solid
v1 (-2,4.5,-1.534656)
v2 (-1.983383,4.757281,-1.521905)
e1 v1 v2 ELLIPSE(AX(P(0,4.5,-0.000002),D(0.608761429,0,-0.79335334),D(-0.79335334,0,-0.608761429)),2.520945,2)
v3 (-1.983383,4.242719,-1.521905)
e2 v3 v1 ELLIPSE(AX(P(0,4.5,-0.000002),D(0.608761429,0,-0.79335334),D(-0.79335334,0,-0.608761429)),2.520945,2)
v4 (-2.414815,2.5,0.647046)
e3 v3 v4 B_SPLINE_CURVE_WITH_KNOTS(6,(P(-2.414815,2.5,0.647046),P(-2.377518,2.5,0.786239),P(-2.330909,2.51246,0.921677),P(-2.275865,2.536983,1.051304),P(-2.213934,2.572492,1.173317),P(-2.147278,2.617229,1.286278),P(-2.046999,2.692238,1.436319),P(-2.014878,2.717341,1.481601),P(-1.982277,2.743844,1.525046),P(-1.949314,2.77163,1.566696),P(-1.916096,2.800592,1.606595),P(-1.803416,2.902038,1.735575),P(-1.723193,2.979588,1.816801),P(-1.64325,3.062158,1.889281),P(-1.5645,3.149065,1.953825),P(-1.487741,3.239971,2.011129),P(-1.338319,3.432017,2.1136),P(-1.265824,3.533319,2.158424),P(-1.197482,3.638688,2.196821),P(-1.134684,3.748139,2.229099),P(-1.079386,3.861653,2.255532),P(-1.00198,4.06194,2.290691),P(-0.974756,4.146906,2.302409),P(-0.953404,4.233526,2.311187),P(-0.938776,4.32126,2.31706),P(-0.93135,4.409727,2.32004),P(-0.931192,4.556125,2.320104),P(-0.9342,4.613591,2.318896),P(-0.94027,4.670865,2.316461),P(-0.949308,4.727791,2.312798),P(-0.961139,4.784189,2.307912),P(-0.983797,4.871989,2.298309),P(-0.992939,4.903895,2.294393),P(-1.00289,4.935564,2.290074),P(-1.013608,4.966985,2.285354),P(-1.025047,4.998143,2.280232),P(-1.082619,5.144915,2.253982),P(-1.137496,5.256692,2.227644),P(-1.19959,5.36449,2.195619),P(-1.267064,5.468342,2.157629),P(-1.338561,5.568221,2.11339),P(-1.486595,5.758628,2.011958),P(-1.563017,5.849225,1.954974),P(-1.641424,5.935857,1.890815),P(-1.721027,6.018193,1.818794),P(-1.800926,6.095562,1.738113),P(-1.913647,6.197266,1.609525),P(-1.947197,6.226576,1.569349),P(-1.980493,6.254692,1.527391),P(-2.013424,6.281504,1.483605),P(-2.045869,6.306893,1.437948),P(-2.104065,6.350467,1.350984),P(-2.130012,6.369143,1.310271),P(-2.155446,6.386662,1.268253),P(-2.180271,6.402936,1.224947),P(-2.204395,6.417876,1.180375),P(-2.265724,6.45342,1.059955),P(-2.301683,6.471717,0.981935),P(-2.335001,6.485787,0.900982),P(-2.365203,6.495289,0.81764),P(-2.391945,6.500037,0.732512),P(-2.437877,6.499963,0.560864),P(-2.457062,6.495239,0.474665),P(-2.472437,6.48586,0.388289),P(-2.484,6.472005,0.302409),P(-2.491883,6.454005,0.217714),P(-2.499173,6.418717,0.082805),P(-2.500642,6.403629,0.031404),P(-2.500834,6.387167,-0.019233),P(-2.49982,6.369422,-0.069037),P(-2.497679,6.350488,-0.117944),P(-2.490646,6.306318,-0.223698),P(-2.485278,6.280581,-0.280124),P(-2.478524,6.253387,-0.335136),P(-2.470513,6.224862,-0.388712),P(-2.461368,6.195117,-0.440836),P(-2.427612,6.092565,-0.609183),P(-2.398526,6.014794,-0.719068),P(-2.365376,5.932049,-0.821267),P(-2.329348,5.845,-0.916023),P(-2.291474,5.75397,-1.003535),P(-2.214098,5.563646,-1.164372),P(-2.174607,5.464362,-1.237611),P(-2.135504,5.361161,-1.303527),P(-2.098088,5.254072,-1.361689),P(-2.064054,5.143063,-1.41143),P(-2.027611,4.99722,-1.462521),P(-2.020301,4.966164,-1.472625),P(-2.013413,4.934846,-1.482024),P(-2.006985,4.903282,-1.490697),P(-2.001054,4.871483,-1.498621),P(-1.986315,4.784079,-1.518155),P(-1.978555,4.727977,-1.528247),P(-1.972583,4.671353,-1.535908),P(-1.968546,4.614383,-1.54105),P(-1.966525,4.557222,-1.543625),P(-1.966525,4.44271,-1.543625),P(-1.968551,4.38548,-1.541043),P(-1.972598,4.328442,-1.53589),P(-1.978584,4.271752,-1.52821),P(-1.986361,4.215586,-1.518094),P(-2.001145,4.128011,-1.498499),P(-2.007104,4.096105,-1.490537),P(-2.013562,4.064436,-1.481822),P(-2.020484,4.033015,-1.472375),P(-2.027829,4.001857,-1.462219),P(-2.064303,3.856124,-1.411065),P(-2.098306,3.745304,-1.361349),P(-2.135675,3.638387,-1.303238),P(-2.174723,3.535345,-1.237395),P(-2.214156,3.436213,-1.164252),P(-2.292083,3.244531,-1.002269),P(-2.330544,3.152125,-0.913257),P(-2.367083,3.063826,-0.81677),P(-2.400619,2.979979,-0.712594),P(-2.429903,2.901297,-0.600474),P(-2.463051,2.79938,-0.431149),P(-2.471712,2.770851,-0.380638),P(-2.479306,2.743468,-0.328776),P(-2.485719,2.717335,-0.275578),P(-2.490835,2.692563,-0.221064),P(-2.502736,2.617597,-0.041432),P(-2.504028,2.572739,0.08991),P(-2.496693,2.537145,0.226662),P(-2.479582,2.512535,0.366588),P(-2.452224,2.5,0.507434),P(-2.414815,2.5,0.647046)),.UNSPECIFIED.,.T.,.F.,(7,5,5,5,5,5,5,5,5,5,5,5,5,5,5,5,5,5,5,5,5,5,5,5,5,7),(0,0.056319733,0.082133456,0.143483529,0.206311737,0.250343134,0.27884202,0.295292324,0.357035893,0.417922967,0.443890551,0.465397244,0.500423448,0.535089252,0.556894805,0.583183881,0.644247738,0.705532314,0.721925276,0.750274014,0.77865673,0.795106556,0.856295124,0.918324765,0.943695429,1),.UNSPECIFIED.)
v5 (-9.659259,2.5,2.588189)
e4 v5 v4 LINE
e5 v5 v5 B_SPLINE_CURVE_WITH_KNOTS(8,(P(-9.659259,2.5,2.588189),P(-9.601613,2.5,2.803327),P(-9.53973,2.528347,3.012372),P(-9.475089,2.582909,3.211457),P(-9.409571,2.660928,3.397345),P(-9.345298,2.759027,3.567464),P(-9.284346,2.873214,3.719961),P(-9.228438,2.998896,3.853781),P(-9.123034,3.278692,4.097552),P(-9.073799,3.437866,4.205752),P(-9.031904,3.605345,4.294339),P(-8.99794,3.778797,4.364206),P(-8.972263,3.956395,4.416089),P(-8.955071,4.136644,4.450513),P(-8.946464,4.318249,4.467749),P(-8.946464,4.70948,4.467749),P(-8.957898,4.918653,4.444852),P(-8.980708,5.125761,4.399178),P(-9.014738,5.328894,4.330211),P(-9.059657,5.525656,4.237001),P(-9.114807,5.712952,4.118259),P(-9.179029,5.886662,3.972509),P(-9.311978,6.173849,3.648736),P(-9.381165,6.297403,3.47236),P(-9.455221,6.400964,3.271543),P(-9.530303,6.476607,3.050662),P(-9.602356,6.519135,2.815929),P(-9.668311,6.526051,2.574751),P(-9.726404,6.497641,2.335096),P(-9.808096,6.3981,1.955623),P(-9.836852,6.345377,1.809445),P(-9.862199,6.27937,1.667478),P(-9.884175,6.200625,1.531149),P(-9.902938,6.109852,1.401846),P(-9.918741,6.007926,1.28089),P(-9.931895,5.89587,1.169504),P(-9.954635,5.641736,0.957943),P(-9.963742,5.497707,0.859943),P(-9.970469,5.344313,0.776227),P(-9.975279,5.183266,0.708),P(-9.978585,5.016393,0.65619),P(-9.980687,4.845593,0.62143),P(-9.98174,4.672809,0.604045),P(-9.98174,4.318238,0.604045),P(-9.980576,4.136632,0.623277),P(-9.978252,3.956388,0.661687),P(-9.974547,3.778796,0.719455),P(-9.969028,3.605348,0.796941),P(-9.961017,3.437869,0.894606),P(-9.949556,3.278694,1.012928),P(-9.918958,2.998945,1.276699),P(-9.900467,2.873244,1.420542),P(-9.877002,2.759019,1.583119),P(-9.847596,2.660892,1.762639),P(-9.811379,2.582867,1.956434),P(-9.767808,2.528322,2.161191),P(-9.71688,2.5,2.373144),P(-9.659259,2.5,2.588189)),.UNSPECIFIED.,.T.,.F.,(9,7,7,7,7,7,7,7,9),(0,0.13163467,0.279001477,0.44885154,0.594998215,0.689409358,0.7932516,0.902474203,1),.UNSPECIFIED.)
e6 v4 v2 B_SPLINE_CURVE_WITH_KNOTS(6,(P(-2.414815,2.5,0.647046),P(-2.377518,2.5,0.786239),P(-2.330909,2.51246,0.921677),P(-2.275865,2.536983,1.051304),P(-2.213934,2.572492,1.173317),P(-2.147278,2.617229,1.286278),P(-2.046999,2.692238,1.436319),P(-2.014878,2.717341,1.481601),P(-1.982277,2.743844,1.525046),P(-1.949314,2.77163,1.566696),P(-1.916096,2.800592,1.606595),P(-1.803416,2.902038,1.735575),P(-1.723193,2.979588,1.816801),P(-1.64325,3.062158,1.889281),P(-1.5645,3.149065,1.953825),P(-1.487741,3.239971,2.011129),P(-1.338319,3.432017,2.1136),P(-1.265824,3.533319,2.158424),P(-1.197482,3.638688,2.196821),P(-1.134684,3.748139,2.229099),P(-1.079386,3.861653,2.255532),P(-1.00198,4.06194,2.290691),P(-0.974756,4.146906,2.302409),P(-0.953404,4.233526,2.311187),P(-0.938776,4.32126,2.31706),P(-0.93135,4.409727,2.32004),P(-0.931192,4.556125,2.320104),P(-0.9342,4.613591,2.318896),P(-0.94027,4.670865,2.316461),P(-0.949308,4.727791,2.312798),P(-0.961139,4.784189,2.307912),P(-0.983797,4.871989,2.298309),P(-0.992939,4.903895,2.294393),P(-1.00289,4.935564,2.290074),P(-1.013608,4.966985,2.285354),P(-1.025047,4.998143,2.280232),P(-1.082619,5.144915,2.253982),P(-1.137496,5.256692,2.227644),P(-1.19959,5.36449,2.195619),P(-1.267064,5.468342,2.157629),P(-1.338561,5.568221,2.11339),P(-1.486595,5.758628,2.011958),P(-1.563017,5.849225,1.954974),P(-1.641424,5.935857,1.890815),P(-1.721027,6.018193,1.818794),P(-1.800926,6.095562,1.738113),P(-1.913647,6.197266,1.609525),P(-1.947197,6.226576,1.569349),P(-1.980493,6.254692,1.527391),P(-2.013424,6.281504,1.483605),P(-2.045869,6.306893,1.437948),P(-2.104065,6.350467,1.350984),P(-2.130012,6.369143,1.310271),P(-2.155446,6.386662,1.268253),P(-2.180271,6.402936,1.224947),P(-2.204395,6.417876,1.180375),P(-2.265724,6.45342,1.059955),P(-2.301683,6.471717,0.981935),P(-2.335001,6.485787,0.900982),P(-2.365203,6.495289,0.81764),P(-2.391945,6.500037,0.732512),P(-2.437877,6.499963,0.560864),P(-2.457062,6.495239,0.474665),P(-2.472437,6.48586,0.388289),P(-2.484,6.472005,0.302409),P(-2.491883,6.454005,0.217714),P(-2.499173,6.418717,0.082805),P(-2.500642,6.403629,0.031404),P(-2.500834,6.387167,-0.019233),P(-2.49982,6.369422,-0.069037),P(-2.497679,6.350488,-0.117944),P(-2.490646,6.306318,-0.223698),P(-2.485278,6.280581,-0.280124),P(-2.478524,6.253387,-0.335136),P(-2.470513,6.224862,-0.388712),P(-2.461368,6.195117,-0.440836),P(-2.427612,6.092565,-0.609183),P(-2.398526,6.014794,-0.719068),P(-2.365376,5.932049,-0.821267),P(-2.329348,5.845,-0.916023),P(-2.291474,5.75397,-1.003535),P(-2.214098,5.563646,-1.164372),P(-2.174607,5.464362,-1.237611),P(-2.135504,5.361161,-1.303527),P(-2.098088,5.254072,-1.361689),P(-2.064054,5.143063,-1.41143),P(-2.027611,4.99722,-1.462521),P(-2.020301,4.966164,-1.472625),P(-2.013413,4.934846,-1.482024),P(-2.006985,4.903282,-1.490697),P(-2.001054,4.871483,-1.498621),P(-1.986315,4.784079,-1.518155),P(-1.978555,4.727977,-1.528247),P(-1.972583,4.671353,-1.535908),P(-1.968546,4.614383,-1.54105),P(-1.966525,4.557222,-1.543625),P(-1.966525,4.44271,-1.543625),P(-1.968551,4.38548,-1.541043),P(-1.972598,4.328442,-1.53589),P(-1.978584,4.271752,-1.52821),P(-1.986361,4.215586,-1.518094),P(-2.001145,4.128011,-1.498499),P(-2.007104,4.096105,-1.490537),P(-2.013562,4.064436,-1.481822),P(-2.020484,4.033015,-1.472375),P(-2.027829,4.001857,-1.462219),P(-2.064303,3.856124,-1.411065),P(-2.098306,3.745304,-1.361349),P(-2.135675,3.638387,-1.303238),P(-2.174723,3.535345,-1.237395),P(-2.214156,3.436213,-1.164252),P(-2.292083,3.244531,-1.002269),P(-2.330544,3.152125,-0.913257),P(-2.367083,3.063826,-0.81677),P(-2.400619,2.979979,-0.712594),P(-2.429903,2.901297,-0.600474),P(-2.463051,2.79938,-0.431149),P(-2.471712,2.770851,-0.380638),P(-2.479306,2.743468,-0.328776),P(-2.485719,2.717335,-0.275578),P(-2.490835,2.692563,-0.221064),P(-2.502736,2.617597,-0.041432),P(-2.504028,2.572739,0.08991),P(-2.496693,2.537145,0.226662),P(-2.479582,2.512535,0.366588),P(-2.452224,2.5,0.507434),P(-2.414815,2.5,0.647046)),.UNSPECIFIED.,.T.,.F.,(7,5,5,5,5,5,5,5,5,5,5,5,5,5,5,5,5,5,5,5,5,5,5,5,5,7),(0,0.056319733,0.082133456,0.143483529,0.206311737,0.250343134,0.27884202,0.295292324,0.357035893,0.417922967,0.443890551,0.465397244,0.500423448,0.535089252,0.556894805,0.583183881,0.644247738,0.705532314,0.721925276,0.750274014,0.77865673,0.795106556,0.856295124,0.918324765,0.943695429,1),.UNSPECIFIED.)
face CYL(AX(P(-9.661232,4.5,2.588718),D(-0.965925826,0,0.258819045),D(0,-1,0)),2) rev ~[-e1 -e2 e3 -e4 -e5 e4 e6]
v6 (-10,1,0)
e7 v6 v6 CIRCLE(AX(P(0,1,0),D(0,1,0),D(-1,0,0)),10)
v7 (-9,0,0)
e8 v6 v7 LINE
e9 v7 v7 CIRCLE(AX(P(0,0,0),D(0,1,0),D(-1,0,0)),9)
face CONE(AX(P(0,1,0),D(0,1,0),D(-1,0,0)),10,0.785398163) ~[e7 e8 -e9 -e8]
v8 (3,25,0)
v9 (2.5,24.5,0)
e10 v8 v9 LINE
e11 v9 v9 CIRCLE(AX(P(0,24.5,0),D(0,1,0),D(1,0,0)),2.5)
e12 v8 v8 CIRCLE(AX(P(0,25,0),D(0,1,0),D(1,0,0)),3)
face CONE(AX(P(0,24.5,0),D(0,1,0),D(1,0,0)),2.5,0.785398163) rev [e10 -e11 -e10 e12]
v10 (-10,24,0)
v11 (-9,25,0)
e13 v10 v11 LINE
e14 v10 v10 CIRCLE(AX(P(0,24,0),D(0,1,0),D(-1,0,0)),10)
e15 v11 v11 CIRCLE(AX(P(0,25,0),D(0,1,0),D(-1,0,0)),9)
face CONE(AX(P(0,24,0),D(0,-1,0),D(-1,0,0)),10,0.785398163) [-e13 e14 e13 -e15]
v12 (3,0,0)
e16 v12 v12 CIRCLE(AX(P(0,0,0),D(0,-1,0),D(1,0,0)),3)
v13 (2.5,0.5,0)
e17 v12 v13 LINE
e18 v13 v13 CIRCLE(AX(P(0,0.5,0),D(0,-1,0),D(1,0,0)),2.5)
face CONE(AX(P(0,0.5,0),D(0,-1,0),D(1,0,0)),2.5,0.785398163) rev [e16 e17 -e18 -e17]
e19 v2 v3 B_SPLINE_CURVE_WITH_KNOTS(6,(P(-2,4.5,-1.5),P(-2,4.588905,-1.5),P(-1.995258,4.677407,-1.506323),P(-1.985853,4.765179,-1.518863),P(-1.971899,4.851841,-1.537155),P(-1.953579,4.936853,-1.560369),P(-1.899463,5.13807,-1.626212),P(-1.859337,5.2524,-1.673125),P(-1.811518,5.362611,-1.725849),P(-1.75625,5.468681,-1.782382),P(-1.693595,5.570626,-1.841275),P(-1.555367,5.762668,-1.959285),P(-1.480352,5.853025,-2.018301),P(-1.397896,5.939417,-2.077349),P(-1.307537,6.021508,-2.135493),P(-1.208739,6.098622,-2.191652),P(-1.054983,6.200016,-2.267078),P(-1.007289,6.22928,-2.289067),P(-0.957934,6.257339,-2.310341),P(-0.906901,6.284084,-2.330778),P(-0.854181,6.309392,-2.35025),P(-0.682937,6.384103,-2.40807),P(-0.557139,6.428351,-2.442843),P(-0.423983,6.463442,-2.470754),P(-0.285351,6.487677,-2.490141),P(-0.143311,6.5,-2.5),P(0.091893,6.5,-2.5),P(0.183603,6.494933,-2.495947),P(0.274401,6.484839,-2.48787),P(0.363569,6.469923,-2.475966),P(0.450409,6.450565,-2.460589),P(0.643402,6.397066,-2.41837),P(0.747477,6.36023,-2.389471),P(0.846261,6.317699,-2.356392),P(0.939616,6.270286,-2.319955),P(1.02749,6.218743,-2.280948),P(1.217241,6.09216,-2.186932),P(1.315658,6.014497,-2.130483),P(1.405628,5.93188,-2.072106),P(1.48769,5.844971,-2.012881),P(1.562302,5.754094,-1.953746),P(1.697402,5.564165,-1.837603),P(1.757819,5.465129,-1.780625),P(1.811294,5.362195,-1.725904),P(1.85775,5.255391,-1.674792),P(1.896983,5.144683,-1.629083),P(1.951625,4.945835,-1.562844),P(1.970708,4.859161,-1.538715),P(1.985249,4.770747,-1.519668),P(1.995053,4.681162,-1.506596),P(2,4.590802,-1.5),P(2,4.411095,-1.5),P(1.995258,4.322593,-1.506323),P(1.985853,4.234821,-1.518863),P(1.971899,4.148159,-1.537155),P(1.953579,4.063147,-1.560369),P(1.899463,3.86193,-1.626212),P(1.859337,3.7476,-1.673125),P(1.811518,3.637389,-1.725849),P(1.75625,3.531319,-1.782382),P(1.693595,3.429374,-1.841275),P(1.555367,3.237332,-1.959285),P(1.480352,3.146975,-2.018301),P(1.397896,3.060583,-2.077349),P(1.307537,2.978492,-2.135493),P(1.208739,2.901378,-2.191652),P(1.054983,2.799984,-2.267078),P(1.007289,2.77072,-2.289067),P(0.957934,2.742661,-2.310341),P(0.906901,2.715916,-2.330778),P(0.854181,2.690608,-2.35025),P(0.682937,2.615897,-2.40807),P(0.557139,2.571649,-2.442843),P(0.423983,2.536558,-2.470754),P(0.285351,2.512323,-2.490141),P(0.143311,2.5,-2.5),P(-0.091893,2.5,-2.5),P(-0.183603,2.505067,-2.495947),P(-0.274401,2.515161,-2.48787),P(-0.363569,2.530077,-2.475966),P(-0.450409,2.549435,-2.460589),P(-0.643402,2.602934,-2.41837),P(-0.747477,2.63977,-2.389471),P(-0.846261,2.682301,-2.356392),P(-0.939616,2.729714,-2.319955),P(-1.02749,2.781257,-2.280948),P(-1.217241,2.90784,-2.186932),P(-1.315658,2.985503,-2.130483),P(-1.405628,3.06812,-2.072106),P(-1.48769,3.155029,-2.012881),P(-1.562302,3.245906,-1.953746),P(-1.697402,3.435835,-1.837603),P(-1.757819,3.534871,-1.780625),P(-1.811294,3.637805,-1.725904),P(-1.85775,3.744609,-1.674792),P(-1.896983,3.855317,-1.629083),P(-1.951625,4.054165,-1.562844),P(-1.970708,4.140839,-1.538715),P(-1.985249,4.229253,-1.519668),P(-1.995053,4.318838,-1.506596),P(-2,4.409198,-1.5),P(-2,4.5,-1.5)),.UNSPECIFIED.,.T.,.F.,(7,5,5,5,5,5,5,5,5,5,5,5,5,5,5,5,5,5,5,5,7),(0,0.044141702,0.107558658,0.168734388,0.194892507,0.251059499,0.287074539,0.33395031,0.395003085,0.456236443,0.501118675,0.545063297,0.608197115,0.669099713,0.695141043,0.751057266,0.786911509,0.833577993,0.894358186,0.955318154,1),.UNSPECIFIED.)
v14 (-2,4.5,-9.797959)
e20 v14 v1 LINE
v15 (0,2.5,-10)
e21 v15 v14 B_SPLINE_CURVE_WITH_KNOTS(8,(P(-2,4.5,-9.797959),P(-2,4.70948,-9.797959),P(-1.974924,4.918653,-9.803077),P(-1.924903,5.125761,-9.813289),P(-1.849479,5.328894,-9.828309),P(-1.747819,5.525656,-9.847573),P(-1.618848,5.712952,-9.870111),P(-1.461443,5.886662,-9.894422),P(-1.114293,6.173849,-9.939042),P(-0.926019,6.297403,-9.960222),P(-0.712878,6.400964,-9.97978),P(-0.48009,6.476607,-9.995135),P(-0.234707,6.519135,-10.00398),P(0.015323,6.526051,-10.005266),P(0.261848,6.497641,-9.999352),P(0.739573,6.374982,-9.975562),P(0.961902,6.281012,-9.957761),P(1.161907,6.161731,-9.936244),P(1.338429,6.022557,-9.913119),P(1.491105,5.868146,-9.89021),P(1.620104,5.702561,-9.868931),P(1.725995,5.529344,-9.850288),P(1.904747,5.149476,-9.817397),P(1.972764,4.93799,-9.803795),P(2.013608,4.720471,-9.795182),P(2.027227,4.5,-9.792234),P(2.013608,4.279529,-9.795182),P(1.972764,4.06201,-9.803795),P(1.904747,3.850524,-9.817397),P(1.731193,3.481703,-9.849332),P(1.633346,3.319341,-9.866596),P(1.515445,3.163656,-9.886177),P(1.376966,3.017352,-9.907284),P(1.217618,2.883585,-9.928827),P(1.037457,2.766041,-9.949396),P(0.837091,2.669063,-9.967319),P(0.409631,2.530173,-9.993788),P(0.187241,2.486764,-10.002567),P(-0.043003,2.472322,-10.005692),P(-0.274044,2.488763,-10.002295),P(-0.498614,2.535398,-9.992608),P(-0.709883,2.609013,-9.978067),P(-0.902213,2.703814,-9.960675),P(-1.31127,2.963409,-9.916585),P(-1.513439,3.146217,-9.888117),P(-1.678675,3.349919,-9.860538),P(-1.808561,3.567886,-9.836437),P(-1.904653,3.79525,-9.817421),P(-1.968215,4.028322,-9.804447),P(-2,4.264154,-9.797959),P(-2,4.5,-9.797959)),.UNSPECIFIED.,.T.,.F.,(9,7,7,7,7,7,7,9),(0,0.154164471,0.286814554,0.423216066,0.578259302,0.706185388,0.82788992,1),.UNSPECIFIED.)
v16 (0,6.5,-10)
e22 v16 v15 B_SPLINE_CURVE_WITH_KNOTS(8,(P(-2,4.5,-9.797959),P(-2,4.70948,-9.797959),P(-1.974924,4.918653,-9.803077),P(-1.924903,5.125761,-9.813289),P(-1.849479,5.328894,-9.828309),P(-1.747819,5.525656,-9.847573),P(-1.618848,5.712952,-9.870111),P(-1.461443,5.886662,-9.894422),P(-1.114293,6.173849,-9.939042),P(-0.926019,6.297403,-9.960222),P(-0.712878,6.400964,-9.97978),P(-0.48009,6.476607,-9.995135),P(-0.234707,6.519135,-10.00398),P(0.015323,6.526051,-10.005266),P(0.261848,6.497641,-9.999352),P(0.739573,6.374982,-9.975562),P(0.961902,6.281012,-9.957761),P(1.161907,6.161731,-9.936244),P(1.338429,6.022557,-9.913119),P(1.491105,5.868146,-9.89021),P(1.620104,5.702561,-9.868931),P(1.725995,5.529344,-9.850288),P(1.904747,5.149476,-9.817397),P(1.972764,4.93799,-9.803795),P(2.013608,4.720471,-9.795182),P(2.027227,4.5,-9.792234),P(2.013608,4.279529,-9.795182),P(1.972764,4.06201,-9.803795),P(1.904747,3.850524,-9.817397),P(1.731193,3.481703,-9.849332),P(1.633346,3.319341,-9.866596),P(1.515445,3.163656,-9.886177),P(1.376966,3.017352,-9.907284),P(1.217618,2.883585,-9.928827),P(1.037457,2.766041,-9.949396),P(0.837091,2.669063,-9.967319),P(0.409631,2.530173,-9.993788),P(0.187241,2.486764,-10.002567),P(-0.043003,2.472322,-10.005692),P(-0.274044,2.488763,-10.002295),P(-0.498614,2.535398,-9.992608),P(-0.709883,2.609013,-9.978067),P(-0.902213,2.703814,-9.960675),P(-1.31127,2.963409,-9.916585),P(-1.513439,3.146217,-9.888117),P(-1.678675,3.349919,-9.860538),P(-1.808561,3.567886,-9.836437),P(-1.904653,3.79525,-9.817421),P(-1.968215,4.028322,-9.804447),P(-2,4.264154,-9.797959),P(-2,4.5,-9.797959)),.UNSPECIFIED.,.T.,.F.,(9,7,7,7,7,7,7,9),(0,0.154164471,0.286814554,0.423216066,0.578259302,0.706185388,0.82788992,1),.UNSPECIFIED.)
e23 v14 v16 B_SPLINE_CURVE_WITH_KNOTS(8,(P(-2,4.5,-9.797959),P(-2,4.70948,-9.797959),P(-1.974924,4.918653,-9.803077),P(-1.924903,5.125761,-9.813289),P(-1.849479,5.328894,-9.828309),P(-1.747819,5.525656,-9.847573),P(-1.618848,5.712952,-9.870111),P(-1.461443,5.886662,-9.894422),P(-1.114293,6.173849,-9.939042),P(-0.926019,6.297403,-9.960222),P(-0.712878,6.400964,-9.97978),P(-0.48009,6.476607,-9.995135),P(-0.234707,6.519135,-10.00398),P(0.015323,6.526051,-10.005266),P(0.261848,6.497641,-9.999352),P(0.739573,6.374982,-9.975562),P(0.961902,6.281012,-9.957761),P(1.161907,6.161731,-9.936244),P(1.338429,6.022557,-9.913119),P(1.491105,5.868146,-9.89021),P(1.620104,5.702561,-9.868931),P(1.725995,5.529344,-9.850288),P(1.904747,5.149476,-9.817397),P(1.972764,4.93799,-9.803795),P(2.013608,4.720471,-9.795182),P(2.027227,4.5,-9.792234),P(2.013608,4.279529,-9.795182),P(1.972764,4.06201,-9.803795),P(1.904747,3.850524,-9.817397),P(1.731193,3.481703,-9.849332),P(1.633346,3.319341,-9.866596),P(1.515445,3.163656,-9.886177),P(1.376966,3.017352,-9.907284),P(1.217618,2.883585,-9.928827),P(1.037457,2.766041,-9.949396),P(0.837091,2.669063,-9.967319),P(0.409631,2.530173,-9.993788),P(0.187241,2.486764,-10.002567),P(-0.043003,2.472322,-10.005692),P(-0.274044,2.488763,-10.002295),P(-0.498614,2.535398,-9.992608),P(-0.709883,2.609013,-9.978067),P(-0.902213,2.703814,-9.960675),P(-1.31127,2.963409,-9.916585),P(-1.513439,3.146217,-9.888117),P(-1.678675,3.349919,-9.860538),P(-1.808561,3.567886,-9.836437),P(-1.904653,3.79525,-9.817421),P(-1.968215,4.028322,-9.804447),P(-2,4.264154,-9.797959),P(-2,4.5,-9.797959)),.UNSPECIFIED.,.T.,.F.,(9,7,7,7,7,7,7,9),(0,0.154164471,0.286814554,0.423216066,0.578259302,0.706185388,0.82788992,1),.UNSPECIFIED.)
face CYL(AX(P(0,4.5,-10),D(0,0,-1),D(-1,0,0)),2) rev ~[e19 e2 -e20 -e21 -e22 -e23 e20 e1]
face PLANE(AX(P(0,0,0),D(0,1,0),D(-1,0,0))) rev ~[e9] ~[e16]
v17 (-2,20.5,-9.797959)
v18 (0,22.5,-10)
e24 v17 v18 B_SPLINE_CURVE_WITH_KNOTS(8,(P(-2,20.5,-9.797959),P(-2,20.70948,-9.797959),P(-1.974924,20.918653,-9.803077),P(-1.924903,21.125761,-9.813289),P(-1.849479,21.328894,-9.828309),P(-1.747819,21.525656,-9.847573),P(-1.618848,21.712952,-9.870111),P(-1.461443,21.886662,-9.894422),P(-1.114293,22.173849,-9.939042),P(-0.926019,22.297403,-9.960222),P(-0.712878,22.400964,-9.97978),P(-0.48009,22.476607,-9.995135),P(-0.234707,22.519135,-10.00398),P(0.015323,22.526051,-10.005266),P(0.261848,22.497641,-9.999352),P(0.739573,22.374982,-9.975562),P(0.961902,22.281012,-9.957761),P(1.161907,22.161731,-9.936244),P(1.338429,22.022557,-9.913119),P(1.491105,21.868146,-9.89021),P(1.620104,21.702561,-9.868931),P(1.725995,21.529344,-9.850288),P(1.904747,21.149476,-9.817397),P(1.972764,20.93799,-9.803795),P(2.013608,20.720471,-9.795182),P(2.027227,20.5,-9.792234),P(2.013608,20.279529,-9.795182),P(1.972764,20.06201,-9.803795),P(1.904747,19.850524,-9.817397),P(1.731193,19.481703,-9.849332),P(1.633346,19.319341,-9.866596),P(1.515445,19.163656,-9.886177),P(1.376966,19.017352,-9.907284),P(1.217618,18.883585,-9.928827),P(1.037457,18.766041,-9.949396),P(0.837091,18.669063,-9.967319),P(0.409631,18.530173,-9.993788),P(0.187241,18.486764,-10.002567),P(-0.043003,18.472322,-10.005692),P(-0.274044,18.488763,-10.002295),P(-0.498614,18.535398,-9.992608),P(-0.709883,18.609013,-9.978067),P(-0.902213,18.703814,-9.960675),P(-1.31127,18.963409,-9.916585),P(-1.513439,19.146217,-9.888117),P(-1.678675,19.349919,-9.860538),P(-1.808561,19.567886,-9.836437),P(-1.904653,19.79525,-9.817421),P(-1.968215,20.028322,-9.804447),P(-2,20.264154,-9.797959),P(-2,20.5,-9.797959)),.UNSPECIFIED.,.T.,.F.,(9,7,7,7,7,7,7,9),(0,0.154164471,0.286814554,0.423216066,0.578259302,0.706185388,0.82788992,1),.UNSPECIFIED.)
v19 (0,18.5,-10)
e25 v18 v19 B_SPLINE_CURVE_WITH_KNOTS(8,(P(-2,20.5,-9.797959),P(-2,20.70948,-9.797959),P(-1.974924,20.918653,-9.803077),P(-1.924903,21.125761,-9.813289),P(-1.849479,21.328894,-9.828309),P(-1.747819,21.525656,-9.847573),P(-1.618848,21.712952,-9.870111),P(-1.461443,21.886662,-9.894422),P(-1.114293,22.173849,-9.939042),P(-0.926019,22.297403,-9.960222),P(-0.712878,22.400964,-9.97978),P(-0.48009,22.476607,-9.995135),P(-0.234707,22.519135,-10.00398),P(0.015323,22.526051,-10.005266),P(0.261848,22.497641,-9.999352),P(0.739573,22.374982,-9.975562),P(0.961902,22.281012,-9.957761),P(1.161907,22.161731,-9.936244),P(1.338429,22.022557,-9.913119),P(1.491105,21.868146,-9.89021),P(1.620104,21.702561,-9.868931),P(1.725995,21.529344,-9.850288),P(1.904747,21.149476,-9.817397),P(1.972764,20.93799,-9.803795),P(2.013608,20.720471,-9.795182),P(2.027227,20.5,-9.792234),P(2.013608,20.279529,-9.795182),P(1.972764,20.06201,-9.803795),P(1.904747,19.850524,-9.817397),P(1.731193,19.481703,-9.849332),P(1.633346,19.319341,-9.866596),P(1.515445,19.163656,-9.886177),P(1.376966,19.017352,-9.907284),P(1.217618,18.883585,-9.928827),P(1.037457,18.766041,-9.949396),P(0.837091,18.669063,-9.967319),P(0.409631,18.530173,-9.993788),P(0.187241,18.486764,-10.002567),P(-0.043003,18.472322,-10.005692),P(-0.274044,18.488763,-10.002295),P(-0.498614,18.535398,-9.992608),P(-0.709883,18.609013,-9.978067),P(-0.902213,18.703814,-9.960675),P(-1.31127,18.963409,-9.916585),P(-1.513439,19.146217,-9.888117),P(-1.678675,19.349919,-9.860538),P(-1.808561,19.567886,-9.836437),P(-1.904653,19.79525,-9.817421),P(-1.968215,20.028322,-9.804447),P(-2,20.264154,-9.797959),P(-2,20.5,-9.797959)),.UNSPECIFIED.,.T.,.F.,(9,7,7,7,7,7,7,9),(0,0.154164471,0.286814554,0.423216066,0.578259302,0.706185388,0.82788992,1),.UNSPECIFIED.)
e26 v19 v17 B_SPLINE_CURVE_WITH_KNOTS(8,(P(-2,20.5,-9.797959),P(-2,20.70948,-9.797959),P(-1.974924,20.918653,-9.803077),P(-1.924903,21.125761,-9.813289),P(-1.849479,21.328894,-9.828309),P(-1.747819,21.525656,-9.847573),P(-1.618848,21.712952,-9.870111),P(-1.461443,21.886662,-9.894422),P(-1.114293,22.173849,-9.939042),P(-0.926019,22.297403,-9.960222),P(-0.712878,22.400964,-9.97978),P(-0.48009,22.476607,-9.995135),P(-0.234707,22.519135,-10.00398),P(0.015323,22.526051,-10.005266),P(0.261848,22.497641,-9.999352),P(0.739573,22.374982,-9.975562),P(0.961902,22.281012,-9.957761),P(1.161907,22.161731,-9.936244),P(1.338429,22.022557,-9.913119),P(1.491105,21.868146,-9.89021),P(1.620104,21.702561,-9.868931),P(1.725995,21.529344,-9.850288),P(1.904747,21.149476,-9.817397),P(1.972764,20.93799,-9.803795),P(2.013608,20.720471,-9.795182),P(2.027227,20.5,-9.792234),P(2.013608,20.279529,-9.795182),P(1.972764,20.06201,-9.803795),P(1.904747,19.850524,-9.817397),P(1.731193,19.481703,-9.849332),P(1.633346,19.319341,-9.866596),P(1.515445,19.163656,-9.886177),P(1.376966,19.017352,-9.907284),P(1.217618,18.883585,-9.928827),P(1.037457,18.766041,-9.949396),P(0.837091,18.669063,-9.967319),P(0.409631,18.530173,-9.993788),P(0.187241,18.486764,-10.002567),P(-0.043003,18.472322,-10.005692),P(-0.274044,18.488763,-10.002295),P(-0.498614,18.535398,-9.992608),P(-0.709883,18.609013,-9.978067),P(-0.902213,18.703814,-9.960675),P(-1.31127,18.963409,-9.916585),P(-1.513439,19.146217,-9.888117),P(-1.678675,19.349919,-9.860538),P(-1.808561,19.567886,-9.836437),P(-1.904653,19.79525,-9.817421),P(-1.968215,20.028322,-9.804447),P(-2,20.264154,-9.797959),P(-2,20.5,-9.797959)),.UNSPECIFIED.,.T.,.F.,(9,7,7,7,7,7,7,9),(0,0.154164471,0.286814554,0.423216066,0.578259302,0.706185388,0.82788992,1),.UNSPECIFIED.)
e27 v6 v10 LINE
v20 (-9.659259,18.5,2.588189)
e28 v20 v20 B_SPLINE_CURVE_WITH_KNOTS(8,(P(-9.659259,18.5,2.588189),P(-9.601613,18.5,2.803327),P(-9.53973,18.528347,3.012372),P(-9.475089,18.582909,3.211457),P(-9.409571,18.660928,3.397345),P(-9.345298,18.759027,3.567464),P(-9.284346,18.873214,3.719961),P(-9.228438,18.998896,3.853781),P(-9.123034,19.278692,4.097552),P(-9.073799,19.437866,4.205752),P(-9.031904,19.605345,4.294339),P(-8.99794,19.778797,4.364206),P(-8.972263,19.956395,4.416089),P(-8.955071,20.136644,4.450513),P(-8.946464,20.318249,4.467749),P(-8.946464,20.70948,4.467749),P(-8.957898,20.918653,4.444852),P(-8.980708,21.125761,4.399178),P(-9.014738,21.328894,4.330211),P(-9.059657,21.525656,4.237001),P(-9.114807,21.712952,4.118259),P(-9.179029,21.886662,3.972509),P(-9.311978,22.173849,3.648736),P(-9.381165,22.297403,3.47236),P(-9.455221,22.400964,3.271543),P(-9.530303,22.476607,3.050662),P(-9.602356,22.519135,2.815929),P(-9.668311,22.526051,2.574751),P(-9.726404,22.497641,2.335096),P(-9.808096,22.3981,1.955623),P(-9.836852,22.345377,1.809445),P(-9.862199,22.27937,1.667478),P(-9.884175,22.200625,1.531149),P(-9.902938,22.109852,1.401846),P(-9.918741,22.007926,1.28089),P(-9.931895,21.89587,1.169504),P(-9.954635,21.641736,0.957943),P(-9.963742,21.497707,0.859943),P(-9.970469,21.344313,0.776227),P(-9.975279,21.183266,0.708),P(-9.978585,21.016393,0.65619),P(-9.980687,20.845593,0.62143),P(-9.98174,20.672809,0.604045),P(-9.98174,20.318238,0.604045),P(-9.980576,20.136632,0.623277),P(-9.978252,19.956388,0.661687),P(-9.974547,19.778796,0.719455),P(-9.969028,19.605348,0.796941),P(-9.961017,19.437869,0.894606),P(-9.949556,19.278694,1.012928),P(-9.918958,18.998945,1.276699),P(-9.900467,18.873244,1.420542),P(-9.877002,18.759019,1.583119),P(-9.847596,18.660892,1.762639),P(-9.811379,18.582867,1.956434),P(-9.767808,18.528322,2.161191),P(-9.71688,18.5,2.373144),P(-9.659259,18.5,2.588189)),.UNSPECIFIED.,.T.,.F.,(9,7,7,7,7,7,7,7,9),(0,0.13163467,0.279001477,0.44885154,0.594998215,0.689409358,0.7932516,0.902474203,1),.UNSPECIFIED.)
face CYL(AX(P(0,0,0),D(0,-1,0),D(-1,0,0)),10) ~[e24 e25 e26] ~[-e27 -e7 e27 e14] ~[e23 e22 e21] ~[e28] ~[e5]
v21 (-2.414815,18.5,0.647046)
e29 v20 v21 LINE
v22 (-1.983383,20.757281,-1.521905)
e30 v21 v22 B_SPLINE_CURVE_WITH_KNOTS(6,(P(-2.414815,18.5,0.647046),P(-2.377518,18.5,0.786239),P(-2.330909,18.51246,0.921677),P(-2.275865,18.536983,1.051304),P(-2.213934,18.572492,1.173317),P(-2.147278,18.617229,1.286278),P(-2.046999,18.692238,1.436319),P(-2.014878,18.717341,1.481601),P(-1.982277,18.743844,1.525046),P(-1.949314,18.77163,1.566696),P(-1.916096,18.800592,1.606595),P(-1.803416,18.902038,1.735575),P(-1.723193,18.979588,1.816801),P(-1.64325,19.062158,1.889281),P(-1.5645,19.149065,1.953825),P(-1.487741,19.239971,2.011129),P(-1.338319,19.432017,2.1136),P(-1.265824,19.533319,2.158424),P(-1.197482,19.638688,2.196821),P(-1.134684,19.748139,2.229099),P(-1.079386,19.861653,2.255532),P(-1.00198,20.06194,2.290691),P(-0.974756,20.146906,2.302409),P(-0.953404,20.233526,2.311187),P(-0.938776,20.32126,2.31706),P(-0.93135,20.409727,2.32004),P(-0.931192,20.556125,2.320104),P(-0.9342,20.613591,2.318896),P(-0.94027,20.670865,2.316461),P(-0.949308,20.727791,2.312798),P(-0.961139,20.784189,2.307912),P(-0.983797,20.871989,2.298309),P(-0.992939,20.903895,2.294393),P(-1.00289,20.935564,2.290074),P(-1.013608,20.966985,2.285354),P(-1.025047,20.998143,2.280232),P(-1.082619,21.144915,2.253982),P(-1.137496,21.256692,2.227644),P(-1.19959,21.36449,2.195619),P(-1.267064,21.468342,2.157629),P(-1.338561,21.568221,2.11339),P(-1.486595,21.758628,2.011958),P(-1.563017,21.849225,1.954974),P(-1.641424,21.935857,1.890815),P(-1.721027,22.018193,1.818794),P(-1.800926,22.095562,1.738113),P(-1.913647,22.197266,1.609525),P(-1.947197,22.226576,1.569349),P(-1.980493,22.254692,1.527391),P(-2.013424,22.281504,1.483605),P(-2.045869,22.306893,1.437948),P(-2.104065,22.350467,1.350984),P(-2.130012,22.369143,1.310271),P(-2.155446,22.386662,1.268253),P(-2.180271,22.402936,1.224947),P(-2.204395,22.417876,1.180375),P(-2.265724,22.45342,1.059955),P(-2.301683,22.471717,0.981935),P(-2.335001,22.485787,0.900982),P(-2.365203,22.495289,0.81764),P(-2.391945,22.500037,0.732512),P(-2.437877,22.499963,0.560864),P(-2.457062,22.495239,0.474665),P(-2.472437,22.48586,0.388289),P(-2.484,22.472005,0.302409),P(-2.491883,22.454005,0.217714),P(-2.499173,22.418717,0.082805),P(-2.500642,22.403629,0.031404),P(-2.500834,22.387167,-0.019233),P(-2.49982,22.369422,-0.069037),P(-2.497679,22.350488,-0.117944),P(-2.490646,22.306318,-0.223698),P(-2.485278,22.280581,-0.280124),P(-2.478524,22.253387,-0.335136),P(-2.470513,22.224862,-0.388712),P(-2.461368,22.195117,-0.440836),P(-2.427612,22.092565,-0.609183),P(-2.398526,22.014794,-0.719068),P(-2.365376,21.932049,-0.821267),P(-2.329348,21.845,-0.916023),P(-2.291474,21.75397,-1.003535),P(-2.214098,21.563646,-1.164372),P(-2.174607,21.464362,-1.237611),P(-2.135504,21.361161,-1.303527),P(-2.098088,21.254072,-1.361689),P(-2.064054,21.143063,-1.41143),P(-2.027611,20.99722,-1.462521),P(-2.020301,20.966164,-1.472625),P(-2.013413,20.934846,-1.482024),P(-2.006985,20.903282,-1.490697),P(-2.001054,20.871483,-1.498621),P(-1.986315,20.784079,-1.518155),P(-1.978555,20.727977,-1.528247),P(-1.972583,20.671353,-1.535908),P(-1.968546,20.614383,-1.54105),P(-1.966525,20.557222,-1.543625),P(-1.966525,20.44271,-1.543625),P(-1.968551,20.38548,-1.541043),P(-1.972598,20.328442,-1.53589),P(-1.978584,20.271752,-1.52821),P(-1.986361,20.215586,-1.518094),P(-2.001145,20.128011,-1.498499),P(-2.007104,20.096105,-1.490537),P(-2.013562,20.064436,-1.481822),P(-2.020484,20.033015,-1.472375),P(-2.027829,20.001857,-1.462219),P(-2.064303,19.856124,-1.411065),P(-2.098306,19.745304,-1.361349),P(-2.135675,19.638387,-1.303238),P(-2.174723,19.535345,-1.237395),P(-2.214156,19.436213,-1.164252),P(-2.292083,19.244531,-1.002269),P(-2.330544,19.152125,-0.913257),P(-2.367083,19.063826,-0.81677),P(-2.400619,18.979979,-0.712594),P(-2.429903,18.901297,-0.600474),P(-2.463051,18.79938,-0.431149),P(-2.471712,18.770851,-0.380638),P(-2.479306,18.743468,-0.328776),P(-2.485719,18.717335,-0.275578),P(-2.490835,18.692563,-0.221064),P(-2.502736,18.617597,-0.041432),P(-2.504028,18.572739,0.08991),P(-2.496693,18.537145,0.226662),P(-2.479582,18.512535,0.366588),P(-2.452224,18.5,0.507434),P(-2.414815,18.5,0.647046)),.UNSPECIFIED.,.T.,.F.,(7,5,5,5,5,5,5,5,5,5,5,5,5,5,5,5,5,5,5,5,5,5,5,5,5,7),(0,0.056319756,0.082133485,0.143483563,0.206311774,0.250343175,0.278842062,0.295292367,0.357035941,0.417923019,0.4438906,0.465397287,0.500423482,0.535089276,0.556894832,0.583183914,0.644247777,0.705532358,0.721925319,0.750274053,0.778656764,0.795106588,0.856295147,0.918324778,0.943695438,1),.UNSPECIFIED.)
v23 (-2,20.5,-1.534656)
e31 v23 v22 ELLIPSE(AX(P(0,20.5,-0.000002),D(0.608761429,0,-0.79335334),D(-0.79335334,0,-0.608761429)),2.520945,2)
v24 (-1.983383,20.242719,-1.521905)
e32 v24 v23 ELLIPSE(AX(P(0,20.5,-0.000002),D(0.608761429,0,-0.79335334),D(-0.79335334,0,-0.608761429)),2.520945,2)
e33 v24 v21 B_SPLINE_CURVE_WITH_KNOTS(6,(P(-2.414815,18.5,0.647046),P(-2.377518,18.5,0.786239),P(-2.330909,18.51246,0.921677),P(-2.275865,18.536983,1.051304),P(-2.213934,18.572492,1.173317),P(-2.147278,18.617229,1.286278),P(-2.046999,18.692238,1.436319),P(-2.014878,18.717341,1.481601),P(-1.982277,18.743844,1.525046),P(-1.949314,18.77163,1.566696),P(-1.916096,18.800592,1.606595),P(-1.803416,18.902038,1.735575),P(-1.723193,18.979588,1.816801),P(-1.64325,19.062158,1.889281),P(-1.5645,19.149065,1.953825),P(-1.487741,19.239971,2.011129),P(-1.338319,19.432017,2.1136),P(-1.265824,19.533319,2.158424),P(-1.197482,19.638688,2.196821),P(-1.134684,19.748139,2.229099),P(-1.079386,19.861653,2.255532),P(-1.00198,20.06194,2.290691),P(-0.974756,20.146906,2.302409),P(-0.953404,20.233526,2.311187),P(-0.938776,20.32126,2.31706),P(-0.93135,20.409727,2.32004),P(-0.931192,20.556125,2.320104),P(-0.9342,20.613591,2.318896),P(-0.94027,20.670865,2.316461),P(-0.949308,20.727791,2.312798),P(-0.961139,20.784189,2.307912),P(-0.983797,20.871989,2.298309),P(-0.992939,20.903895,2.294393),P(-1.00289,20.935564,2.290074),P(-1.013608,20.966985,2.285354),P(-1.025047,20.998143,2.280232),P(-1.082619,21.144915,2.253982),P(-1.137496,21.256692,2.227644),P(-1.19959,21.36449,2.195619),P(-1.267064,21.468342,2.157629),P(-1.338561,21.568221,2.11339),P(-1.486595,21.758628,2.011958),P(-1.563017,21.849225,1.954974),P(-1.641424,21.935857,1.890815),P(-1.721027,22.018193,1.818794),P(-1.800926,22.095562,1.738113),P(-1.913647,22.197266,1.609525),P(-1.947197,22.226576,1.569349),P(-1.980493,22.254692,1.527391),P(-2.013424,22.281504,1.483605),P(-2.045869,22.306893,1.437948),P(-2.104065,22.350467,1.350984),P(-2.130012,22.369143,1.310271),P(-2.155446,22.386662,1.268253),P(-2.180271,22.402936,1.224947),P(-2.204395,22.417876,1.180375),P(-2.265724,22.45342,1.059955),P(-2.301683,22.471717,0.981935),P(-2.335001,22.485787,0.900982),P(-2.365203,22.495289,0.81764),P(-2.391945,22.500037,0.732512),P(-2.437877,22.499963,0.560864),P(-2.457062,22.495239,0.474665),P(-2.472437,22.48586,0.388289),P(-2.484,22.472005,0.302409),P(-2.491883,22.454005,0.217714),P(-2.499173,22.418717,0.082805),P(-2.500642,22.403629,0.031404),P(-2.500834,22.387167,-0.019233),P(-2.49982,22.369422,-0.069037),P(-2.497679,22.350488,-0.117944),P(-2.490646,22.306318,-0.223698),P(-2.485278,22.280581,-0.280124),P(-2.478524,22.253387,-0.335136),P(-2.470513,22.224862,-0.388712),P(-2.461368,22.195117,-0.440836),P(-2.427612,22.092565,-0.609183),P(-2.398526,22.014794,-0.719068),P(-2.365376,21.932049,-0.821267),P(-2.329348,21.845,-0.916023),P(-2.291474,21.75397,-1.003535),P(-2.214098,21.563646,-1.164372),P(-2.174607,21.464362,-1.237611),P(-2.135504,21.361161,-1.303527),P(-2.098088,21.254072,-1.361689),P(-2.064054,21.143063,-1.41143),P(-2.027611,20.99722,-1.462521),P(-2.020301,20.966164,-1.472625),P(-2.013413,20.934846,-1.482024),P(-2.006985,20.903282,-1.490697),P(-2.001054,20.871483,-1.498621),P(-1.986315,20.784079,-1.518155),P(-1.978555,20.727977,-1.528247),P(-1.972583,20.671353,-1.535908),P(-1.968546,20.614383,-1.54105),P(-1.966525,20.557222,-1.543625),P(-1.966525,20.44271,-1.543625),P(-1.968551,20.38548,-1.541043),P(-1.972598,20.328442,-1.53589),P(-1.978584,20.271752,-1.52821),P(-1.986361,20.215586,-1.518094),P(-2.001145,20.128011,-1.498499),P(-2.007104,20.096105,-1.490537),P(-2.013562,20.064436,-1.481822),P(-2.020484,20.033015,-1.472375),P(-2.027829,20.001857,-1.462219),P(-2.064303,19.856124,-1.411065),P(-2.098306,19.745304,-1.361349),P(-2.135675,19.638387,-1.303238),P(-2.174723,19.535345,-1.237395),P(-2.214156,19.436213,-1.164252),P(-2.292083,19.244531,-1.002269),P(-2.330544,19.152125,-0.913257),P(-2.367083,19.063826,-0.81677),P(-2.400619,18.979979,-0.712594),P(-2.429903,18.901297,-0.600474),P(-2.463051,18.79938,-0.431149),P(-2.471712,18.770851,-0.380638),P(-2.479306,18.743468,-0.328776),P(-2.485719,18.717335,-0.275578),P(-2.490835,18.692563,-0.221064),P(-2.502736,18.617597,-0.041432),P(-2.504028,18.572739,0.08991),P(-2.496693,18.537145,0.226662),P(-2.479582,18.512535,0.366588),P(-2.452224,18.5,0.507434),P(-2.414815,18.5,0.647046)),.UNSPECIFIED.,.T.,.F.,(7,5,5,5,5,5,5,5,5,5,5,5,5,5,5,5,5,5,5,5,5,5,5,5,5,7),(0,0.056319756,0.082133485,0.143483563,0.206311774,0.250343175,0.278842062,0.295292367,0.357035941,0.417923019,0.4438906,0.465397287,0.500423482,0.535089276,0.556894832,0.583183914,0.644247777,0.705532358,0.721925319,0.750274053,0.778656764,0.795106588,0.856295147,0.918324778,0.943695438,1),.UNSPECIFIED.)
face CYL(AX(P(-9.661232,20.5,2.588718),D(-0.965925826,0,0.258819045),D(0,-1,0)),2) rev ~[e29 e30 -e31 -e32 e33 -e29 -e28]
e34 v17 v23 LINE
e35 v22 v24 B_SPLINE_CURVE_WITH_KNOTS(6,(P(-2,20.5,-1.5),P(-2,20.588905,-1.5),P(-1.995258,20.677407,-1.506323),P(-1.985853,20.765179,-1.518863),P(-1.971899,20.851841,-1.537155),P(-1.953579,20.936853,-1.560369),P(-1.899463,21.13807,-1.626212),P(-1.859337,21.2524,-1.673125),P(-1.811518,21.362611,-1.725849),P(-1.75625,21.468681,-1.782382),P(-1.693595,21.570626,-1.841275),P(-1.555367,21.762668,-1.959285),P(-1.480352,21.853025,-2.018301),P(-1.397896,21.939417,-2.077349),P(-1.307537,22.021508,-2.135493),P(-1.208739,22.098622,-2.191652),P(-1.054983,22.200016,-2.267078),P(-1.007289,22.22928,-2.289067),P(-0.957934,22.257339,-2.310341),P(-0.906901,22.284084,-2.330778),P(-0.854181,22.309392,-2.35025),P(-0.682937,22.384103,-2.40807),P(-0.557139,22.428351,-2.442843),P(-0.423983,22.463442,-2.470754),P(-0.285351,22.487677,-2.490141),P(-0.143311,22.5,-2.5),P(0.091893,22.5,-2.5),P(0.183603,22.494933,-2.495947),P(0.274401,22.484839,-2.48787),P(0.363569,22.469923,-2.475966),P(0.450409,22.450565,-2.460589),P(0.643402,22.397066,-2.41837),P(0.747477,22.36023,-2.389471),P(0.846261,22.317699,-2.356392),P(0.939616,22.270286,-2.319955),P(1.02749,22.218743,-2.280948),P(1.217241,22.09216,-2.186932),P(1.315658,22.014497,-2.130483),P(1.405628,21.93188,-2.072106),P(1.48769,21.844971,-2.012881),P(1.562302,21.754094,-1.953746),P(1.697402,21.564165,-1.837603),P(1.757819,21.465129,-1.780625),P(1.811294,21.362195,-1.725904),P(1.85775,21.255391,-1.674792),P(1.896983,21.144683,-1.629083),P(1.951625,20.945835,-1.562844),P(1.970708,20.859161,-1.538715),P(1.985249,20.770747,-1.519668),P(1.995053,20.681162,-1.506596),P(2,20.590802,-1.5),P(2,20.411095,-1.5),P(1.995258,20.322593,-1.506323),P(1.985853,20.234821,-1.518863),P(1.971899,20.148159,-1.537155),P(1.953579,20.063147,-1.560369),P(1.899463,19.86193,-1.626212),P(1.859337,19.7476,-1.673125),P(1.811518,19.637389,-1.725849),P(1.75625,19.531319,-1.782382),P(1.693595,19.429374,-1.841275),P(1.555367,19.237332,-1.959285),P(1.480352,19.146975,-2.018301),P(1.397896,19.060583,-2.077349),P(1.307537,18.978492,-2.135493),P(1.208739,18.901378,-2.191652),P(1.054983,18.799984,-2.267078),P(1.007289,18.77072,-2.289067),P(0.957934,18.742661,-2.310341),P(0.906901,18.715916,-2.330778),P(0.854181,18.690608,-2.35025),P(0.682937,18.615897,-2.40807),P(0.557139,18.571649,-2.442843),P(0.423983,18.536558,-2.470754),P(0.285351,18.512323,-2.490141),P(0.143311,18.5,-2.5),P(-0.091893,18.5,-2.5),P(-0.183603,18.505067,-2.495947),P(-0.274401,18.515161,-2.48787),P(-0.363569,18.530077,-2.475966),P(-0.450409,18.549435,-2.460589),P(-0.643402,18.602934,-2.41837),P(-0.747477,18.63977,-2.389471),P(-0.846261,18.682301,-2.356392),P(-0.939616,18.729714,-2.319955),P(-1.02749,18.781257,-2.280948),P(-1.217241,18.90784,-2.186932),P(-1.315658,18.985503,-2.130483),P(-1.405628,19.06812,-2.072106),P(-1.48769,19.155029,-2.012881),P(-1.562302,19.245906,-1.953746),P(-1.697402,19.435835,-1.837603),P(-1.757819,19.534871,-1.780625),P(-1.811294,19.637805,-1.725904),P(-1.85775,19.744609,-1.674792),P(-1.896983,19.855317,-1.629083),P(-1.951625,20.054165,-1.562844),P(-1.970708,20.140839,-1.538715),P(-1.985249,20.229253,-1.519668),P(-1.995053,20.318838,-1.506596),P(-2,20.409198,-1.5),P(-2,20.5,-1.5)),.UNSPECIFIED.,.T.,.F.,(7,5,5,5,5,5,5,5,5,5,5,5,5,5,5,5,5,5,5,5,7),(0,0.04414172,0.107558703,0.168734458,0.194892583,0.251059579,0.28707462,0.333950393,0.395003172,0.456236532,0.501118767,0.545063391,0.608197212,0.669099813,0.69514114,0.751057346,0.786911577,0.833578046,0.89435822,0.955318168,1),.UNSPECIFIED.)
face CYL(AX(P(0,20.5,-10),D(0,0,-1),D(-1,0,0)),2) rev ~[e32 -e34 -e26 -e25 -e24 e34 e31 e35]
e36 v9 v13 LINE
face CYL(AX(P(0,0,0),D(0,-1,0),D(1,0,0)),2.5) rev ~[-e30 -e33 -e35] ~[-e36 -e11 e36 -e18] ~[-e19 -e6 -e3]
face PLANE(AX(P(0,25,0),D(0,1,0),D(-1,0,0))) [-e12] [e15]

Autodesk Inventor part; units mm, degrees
ref_plane "YZ Plane" through (0, 0, 0) normal (1, 0, 0) x (0, 1, 0)
sketch "Sketch1" plane through (0, 0, 0) normal (0, 1, 0) x (-1, 0, 0)
  circle A0 centre (0, 0) radius 10
  dimension "d0" = 20
extrude "Extrusion1" add sketch "Sketch1" along normal blind 25
sketch "Sketch2" plane through (0, 25, 0) normal (0, 1, 0) x (1, 0, 0)
  circle A0 centre (0, 0) radius 10 projected
  circle A1 centre (0, 0) radius 2.5
  dimension "d3" = 5
extrude "Extrusion2" cut sketch "Sketch2" against normal blind 14 contours A1
sketch "Sketch3" plane through (0, 0, 0) normal (0, -1, 0) x (1, 0, 0)
  circle A0 centre (0, 0) radius 10 projected
  circle A1 centre (0, 0) radius 2.5
  dimension "d6" = 5
extrude "Extrusion3" cut sketch "Sketch3" against normal blind 11 contours A1
chamfer "Chamfer1" distance 1 angle 45 2 edges at (10, 25, 0) (10, 0, 0)
chamfer "Chamfer2" distance 0.5 angle 45 2 edges at (-2.5, 25, 0) (-2.5, 0, 0)
sketch "Sketch4" plane through (0, 25, 0) normal (0, 1, 0) x (1, 0, 0)
  circle A0 centre (0, 0) radius 9 projected
  circle A1 centre (0, 0) radius 3 projected
  circle A2 centre (0, 0) radius 10 projected
  line L0 (-10, 0) -> (10, 0) construction
  line L1 (0, 0) -> (-9.6593, -2.5882) construction
  point P0 (0, 10)
  point P1 (-9.6593, -2.5882)
  dimension "d28" = 15
ref_plane "Work Plane1" through (0, 25, -10) normal (0, 0, -1) x (-1, 0, 0)
ref_plane "Work Plane3" through (-9.6593, 25, 2.5882) normal (-0.9659, 0, 0.2588) x (0, -1, 0)
sketch "Sketch5" plane through (0, 25, -10) normal (0, 0, -1) x (-1, 0, 0)
  line L0 (10, -1) -> (-10, -1) projected
  line L1 (-10, -24) -> (10, -24) projected
  line L2 (-10, -24) -> (-10, -1) projected
  line L3 (10, -24) -> (10, -1) projected
  circle A0 centre (0, -4.5) radius 2
  circle A1 centre (0, -20.5) radius 2
  line L4 (-9, 0) -> (9, 0) projected
  line L5 (9, -25) -> (-9, -25) projected
  point P0 (0, -25)
  point P1 (0, -1)
  dimension "d16" = 4
  dimension "d17" = 4
  dimension "d18" = 4.5
  dimension "d19" = 4.5
extrude "Extrusion4" cut sketch "Sketch5" against normal blind 8.75 contours A0 | A1
sketch "Sketch6" plane through (-9.6593, 25, 2.5882) normal (-0.9659, 0, 0.2588) x (0, -1, 0)
  circle A0 centre (4.5, 0) radius 2
  line L0 (24, -10) -> (1, -10) projected
  line L1 (24, 10) -> (1, 10) projected
  line L2 (25, 9) -> (25, -9) projected
  line L3 (0, -9) -> (0, 9) projected
  circle A1 centre (20.5, 0) radius 2
  point P0 (25, 0)
  point P1 (0, 0)
  dimension "d22" = 4
  dimension "d23" = 4
  dimension "d24" = 4.5
  dimension "d25" = 4.5
extrude "Extrusion5" cut sketch "Sketch6" against normal blind 8.75
thread "Thread1" size "M4x0.7" class "6H" standard "ANSI Metric M Profile" full length
thread "Thread2" size "M4x0.7" class "6H" standard "ANSI Metric M Profile" full length
thread "Thread3" size "M4x0.7" class "6H" standard "ANSI Metric M Profile" full length
thread "Thread4" size "M4x0.7" class "6H" standard "ANSI Metric M Profile" full length
properties part number "ZACMEFlexCoupler" material "Aluminum 6061"
